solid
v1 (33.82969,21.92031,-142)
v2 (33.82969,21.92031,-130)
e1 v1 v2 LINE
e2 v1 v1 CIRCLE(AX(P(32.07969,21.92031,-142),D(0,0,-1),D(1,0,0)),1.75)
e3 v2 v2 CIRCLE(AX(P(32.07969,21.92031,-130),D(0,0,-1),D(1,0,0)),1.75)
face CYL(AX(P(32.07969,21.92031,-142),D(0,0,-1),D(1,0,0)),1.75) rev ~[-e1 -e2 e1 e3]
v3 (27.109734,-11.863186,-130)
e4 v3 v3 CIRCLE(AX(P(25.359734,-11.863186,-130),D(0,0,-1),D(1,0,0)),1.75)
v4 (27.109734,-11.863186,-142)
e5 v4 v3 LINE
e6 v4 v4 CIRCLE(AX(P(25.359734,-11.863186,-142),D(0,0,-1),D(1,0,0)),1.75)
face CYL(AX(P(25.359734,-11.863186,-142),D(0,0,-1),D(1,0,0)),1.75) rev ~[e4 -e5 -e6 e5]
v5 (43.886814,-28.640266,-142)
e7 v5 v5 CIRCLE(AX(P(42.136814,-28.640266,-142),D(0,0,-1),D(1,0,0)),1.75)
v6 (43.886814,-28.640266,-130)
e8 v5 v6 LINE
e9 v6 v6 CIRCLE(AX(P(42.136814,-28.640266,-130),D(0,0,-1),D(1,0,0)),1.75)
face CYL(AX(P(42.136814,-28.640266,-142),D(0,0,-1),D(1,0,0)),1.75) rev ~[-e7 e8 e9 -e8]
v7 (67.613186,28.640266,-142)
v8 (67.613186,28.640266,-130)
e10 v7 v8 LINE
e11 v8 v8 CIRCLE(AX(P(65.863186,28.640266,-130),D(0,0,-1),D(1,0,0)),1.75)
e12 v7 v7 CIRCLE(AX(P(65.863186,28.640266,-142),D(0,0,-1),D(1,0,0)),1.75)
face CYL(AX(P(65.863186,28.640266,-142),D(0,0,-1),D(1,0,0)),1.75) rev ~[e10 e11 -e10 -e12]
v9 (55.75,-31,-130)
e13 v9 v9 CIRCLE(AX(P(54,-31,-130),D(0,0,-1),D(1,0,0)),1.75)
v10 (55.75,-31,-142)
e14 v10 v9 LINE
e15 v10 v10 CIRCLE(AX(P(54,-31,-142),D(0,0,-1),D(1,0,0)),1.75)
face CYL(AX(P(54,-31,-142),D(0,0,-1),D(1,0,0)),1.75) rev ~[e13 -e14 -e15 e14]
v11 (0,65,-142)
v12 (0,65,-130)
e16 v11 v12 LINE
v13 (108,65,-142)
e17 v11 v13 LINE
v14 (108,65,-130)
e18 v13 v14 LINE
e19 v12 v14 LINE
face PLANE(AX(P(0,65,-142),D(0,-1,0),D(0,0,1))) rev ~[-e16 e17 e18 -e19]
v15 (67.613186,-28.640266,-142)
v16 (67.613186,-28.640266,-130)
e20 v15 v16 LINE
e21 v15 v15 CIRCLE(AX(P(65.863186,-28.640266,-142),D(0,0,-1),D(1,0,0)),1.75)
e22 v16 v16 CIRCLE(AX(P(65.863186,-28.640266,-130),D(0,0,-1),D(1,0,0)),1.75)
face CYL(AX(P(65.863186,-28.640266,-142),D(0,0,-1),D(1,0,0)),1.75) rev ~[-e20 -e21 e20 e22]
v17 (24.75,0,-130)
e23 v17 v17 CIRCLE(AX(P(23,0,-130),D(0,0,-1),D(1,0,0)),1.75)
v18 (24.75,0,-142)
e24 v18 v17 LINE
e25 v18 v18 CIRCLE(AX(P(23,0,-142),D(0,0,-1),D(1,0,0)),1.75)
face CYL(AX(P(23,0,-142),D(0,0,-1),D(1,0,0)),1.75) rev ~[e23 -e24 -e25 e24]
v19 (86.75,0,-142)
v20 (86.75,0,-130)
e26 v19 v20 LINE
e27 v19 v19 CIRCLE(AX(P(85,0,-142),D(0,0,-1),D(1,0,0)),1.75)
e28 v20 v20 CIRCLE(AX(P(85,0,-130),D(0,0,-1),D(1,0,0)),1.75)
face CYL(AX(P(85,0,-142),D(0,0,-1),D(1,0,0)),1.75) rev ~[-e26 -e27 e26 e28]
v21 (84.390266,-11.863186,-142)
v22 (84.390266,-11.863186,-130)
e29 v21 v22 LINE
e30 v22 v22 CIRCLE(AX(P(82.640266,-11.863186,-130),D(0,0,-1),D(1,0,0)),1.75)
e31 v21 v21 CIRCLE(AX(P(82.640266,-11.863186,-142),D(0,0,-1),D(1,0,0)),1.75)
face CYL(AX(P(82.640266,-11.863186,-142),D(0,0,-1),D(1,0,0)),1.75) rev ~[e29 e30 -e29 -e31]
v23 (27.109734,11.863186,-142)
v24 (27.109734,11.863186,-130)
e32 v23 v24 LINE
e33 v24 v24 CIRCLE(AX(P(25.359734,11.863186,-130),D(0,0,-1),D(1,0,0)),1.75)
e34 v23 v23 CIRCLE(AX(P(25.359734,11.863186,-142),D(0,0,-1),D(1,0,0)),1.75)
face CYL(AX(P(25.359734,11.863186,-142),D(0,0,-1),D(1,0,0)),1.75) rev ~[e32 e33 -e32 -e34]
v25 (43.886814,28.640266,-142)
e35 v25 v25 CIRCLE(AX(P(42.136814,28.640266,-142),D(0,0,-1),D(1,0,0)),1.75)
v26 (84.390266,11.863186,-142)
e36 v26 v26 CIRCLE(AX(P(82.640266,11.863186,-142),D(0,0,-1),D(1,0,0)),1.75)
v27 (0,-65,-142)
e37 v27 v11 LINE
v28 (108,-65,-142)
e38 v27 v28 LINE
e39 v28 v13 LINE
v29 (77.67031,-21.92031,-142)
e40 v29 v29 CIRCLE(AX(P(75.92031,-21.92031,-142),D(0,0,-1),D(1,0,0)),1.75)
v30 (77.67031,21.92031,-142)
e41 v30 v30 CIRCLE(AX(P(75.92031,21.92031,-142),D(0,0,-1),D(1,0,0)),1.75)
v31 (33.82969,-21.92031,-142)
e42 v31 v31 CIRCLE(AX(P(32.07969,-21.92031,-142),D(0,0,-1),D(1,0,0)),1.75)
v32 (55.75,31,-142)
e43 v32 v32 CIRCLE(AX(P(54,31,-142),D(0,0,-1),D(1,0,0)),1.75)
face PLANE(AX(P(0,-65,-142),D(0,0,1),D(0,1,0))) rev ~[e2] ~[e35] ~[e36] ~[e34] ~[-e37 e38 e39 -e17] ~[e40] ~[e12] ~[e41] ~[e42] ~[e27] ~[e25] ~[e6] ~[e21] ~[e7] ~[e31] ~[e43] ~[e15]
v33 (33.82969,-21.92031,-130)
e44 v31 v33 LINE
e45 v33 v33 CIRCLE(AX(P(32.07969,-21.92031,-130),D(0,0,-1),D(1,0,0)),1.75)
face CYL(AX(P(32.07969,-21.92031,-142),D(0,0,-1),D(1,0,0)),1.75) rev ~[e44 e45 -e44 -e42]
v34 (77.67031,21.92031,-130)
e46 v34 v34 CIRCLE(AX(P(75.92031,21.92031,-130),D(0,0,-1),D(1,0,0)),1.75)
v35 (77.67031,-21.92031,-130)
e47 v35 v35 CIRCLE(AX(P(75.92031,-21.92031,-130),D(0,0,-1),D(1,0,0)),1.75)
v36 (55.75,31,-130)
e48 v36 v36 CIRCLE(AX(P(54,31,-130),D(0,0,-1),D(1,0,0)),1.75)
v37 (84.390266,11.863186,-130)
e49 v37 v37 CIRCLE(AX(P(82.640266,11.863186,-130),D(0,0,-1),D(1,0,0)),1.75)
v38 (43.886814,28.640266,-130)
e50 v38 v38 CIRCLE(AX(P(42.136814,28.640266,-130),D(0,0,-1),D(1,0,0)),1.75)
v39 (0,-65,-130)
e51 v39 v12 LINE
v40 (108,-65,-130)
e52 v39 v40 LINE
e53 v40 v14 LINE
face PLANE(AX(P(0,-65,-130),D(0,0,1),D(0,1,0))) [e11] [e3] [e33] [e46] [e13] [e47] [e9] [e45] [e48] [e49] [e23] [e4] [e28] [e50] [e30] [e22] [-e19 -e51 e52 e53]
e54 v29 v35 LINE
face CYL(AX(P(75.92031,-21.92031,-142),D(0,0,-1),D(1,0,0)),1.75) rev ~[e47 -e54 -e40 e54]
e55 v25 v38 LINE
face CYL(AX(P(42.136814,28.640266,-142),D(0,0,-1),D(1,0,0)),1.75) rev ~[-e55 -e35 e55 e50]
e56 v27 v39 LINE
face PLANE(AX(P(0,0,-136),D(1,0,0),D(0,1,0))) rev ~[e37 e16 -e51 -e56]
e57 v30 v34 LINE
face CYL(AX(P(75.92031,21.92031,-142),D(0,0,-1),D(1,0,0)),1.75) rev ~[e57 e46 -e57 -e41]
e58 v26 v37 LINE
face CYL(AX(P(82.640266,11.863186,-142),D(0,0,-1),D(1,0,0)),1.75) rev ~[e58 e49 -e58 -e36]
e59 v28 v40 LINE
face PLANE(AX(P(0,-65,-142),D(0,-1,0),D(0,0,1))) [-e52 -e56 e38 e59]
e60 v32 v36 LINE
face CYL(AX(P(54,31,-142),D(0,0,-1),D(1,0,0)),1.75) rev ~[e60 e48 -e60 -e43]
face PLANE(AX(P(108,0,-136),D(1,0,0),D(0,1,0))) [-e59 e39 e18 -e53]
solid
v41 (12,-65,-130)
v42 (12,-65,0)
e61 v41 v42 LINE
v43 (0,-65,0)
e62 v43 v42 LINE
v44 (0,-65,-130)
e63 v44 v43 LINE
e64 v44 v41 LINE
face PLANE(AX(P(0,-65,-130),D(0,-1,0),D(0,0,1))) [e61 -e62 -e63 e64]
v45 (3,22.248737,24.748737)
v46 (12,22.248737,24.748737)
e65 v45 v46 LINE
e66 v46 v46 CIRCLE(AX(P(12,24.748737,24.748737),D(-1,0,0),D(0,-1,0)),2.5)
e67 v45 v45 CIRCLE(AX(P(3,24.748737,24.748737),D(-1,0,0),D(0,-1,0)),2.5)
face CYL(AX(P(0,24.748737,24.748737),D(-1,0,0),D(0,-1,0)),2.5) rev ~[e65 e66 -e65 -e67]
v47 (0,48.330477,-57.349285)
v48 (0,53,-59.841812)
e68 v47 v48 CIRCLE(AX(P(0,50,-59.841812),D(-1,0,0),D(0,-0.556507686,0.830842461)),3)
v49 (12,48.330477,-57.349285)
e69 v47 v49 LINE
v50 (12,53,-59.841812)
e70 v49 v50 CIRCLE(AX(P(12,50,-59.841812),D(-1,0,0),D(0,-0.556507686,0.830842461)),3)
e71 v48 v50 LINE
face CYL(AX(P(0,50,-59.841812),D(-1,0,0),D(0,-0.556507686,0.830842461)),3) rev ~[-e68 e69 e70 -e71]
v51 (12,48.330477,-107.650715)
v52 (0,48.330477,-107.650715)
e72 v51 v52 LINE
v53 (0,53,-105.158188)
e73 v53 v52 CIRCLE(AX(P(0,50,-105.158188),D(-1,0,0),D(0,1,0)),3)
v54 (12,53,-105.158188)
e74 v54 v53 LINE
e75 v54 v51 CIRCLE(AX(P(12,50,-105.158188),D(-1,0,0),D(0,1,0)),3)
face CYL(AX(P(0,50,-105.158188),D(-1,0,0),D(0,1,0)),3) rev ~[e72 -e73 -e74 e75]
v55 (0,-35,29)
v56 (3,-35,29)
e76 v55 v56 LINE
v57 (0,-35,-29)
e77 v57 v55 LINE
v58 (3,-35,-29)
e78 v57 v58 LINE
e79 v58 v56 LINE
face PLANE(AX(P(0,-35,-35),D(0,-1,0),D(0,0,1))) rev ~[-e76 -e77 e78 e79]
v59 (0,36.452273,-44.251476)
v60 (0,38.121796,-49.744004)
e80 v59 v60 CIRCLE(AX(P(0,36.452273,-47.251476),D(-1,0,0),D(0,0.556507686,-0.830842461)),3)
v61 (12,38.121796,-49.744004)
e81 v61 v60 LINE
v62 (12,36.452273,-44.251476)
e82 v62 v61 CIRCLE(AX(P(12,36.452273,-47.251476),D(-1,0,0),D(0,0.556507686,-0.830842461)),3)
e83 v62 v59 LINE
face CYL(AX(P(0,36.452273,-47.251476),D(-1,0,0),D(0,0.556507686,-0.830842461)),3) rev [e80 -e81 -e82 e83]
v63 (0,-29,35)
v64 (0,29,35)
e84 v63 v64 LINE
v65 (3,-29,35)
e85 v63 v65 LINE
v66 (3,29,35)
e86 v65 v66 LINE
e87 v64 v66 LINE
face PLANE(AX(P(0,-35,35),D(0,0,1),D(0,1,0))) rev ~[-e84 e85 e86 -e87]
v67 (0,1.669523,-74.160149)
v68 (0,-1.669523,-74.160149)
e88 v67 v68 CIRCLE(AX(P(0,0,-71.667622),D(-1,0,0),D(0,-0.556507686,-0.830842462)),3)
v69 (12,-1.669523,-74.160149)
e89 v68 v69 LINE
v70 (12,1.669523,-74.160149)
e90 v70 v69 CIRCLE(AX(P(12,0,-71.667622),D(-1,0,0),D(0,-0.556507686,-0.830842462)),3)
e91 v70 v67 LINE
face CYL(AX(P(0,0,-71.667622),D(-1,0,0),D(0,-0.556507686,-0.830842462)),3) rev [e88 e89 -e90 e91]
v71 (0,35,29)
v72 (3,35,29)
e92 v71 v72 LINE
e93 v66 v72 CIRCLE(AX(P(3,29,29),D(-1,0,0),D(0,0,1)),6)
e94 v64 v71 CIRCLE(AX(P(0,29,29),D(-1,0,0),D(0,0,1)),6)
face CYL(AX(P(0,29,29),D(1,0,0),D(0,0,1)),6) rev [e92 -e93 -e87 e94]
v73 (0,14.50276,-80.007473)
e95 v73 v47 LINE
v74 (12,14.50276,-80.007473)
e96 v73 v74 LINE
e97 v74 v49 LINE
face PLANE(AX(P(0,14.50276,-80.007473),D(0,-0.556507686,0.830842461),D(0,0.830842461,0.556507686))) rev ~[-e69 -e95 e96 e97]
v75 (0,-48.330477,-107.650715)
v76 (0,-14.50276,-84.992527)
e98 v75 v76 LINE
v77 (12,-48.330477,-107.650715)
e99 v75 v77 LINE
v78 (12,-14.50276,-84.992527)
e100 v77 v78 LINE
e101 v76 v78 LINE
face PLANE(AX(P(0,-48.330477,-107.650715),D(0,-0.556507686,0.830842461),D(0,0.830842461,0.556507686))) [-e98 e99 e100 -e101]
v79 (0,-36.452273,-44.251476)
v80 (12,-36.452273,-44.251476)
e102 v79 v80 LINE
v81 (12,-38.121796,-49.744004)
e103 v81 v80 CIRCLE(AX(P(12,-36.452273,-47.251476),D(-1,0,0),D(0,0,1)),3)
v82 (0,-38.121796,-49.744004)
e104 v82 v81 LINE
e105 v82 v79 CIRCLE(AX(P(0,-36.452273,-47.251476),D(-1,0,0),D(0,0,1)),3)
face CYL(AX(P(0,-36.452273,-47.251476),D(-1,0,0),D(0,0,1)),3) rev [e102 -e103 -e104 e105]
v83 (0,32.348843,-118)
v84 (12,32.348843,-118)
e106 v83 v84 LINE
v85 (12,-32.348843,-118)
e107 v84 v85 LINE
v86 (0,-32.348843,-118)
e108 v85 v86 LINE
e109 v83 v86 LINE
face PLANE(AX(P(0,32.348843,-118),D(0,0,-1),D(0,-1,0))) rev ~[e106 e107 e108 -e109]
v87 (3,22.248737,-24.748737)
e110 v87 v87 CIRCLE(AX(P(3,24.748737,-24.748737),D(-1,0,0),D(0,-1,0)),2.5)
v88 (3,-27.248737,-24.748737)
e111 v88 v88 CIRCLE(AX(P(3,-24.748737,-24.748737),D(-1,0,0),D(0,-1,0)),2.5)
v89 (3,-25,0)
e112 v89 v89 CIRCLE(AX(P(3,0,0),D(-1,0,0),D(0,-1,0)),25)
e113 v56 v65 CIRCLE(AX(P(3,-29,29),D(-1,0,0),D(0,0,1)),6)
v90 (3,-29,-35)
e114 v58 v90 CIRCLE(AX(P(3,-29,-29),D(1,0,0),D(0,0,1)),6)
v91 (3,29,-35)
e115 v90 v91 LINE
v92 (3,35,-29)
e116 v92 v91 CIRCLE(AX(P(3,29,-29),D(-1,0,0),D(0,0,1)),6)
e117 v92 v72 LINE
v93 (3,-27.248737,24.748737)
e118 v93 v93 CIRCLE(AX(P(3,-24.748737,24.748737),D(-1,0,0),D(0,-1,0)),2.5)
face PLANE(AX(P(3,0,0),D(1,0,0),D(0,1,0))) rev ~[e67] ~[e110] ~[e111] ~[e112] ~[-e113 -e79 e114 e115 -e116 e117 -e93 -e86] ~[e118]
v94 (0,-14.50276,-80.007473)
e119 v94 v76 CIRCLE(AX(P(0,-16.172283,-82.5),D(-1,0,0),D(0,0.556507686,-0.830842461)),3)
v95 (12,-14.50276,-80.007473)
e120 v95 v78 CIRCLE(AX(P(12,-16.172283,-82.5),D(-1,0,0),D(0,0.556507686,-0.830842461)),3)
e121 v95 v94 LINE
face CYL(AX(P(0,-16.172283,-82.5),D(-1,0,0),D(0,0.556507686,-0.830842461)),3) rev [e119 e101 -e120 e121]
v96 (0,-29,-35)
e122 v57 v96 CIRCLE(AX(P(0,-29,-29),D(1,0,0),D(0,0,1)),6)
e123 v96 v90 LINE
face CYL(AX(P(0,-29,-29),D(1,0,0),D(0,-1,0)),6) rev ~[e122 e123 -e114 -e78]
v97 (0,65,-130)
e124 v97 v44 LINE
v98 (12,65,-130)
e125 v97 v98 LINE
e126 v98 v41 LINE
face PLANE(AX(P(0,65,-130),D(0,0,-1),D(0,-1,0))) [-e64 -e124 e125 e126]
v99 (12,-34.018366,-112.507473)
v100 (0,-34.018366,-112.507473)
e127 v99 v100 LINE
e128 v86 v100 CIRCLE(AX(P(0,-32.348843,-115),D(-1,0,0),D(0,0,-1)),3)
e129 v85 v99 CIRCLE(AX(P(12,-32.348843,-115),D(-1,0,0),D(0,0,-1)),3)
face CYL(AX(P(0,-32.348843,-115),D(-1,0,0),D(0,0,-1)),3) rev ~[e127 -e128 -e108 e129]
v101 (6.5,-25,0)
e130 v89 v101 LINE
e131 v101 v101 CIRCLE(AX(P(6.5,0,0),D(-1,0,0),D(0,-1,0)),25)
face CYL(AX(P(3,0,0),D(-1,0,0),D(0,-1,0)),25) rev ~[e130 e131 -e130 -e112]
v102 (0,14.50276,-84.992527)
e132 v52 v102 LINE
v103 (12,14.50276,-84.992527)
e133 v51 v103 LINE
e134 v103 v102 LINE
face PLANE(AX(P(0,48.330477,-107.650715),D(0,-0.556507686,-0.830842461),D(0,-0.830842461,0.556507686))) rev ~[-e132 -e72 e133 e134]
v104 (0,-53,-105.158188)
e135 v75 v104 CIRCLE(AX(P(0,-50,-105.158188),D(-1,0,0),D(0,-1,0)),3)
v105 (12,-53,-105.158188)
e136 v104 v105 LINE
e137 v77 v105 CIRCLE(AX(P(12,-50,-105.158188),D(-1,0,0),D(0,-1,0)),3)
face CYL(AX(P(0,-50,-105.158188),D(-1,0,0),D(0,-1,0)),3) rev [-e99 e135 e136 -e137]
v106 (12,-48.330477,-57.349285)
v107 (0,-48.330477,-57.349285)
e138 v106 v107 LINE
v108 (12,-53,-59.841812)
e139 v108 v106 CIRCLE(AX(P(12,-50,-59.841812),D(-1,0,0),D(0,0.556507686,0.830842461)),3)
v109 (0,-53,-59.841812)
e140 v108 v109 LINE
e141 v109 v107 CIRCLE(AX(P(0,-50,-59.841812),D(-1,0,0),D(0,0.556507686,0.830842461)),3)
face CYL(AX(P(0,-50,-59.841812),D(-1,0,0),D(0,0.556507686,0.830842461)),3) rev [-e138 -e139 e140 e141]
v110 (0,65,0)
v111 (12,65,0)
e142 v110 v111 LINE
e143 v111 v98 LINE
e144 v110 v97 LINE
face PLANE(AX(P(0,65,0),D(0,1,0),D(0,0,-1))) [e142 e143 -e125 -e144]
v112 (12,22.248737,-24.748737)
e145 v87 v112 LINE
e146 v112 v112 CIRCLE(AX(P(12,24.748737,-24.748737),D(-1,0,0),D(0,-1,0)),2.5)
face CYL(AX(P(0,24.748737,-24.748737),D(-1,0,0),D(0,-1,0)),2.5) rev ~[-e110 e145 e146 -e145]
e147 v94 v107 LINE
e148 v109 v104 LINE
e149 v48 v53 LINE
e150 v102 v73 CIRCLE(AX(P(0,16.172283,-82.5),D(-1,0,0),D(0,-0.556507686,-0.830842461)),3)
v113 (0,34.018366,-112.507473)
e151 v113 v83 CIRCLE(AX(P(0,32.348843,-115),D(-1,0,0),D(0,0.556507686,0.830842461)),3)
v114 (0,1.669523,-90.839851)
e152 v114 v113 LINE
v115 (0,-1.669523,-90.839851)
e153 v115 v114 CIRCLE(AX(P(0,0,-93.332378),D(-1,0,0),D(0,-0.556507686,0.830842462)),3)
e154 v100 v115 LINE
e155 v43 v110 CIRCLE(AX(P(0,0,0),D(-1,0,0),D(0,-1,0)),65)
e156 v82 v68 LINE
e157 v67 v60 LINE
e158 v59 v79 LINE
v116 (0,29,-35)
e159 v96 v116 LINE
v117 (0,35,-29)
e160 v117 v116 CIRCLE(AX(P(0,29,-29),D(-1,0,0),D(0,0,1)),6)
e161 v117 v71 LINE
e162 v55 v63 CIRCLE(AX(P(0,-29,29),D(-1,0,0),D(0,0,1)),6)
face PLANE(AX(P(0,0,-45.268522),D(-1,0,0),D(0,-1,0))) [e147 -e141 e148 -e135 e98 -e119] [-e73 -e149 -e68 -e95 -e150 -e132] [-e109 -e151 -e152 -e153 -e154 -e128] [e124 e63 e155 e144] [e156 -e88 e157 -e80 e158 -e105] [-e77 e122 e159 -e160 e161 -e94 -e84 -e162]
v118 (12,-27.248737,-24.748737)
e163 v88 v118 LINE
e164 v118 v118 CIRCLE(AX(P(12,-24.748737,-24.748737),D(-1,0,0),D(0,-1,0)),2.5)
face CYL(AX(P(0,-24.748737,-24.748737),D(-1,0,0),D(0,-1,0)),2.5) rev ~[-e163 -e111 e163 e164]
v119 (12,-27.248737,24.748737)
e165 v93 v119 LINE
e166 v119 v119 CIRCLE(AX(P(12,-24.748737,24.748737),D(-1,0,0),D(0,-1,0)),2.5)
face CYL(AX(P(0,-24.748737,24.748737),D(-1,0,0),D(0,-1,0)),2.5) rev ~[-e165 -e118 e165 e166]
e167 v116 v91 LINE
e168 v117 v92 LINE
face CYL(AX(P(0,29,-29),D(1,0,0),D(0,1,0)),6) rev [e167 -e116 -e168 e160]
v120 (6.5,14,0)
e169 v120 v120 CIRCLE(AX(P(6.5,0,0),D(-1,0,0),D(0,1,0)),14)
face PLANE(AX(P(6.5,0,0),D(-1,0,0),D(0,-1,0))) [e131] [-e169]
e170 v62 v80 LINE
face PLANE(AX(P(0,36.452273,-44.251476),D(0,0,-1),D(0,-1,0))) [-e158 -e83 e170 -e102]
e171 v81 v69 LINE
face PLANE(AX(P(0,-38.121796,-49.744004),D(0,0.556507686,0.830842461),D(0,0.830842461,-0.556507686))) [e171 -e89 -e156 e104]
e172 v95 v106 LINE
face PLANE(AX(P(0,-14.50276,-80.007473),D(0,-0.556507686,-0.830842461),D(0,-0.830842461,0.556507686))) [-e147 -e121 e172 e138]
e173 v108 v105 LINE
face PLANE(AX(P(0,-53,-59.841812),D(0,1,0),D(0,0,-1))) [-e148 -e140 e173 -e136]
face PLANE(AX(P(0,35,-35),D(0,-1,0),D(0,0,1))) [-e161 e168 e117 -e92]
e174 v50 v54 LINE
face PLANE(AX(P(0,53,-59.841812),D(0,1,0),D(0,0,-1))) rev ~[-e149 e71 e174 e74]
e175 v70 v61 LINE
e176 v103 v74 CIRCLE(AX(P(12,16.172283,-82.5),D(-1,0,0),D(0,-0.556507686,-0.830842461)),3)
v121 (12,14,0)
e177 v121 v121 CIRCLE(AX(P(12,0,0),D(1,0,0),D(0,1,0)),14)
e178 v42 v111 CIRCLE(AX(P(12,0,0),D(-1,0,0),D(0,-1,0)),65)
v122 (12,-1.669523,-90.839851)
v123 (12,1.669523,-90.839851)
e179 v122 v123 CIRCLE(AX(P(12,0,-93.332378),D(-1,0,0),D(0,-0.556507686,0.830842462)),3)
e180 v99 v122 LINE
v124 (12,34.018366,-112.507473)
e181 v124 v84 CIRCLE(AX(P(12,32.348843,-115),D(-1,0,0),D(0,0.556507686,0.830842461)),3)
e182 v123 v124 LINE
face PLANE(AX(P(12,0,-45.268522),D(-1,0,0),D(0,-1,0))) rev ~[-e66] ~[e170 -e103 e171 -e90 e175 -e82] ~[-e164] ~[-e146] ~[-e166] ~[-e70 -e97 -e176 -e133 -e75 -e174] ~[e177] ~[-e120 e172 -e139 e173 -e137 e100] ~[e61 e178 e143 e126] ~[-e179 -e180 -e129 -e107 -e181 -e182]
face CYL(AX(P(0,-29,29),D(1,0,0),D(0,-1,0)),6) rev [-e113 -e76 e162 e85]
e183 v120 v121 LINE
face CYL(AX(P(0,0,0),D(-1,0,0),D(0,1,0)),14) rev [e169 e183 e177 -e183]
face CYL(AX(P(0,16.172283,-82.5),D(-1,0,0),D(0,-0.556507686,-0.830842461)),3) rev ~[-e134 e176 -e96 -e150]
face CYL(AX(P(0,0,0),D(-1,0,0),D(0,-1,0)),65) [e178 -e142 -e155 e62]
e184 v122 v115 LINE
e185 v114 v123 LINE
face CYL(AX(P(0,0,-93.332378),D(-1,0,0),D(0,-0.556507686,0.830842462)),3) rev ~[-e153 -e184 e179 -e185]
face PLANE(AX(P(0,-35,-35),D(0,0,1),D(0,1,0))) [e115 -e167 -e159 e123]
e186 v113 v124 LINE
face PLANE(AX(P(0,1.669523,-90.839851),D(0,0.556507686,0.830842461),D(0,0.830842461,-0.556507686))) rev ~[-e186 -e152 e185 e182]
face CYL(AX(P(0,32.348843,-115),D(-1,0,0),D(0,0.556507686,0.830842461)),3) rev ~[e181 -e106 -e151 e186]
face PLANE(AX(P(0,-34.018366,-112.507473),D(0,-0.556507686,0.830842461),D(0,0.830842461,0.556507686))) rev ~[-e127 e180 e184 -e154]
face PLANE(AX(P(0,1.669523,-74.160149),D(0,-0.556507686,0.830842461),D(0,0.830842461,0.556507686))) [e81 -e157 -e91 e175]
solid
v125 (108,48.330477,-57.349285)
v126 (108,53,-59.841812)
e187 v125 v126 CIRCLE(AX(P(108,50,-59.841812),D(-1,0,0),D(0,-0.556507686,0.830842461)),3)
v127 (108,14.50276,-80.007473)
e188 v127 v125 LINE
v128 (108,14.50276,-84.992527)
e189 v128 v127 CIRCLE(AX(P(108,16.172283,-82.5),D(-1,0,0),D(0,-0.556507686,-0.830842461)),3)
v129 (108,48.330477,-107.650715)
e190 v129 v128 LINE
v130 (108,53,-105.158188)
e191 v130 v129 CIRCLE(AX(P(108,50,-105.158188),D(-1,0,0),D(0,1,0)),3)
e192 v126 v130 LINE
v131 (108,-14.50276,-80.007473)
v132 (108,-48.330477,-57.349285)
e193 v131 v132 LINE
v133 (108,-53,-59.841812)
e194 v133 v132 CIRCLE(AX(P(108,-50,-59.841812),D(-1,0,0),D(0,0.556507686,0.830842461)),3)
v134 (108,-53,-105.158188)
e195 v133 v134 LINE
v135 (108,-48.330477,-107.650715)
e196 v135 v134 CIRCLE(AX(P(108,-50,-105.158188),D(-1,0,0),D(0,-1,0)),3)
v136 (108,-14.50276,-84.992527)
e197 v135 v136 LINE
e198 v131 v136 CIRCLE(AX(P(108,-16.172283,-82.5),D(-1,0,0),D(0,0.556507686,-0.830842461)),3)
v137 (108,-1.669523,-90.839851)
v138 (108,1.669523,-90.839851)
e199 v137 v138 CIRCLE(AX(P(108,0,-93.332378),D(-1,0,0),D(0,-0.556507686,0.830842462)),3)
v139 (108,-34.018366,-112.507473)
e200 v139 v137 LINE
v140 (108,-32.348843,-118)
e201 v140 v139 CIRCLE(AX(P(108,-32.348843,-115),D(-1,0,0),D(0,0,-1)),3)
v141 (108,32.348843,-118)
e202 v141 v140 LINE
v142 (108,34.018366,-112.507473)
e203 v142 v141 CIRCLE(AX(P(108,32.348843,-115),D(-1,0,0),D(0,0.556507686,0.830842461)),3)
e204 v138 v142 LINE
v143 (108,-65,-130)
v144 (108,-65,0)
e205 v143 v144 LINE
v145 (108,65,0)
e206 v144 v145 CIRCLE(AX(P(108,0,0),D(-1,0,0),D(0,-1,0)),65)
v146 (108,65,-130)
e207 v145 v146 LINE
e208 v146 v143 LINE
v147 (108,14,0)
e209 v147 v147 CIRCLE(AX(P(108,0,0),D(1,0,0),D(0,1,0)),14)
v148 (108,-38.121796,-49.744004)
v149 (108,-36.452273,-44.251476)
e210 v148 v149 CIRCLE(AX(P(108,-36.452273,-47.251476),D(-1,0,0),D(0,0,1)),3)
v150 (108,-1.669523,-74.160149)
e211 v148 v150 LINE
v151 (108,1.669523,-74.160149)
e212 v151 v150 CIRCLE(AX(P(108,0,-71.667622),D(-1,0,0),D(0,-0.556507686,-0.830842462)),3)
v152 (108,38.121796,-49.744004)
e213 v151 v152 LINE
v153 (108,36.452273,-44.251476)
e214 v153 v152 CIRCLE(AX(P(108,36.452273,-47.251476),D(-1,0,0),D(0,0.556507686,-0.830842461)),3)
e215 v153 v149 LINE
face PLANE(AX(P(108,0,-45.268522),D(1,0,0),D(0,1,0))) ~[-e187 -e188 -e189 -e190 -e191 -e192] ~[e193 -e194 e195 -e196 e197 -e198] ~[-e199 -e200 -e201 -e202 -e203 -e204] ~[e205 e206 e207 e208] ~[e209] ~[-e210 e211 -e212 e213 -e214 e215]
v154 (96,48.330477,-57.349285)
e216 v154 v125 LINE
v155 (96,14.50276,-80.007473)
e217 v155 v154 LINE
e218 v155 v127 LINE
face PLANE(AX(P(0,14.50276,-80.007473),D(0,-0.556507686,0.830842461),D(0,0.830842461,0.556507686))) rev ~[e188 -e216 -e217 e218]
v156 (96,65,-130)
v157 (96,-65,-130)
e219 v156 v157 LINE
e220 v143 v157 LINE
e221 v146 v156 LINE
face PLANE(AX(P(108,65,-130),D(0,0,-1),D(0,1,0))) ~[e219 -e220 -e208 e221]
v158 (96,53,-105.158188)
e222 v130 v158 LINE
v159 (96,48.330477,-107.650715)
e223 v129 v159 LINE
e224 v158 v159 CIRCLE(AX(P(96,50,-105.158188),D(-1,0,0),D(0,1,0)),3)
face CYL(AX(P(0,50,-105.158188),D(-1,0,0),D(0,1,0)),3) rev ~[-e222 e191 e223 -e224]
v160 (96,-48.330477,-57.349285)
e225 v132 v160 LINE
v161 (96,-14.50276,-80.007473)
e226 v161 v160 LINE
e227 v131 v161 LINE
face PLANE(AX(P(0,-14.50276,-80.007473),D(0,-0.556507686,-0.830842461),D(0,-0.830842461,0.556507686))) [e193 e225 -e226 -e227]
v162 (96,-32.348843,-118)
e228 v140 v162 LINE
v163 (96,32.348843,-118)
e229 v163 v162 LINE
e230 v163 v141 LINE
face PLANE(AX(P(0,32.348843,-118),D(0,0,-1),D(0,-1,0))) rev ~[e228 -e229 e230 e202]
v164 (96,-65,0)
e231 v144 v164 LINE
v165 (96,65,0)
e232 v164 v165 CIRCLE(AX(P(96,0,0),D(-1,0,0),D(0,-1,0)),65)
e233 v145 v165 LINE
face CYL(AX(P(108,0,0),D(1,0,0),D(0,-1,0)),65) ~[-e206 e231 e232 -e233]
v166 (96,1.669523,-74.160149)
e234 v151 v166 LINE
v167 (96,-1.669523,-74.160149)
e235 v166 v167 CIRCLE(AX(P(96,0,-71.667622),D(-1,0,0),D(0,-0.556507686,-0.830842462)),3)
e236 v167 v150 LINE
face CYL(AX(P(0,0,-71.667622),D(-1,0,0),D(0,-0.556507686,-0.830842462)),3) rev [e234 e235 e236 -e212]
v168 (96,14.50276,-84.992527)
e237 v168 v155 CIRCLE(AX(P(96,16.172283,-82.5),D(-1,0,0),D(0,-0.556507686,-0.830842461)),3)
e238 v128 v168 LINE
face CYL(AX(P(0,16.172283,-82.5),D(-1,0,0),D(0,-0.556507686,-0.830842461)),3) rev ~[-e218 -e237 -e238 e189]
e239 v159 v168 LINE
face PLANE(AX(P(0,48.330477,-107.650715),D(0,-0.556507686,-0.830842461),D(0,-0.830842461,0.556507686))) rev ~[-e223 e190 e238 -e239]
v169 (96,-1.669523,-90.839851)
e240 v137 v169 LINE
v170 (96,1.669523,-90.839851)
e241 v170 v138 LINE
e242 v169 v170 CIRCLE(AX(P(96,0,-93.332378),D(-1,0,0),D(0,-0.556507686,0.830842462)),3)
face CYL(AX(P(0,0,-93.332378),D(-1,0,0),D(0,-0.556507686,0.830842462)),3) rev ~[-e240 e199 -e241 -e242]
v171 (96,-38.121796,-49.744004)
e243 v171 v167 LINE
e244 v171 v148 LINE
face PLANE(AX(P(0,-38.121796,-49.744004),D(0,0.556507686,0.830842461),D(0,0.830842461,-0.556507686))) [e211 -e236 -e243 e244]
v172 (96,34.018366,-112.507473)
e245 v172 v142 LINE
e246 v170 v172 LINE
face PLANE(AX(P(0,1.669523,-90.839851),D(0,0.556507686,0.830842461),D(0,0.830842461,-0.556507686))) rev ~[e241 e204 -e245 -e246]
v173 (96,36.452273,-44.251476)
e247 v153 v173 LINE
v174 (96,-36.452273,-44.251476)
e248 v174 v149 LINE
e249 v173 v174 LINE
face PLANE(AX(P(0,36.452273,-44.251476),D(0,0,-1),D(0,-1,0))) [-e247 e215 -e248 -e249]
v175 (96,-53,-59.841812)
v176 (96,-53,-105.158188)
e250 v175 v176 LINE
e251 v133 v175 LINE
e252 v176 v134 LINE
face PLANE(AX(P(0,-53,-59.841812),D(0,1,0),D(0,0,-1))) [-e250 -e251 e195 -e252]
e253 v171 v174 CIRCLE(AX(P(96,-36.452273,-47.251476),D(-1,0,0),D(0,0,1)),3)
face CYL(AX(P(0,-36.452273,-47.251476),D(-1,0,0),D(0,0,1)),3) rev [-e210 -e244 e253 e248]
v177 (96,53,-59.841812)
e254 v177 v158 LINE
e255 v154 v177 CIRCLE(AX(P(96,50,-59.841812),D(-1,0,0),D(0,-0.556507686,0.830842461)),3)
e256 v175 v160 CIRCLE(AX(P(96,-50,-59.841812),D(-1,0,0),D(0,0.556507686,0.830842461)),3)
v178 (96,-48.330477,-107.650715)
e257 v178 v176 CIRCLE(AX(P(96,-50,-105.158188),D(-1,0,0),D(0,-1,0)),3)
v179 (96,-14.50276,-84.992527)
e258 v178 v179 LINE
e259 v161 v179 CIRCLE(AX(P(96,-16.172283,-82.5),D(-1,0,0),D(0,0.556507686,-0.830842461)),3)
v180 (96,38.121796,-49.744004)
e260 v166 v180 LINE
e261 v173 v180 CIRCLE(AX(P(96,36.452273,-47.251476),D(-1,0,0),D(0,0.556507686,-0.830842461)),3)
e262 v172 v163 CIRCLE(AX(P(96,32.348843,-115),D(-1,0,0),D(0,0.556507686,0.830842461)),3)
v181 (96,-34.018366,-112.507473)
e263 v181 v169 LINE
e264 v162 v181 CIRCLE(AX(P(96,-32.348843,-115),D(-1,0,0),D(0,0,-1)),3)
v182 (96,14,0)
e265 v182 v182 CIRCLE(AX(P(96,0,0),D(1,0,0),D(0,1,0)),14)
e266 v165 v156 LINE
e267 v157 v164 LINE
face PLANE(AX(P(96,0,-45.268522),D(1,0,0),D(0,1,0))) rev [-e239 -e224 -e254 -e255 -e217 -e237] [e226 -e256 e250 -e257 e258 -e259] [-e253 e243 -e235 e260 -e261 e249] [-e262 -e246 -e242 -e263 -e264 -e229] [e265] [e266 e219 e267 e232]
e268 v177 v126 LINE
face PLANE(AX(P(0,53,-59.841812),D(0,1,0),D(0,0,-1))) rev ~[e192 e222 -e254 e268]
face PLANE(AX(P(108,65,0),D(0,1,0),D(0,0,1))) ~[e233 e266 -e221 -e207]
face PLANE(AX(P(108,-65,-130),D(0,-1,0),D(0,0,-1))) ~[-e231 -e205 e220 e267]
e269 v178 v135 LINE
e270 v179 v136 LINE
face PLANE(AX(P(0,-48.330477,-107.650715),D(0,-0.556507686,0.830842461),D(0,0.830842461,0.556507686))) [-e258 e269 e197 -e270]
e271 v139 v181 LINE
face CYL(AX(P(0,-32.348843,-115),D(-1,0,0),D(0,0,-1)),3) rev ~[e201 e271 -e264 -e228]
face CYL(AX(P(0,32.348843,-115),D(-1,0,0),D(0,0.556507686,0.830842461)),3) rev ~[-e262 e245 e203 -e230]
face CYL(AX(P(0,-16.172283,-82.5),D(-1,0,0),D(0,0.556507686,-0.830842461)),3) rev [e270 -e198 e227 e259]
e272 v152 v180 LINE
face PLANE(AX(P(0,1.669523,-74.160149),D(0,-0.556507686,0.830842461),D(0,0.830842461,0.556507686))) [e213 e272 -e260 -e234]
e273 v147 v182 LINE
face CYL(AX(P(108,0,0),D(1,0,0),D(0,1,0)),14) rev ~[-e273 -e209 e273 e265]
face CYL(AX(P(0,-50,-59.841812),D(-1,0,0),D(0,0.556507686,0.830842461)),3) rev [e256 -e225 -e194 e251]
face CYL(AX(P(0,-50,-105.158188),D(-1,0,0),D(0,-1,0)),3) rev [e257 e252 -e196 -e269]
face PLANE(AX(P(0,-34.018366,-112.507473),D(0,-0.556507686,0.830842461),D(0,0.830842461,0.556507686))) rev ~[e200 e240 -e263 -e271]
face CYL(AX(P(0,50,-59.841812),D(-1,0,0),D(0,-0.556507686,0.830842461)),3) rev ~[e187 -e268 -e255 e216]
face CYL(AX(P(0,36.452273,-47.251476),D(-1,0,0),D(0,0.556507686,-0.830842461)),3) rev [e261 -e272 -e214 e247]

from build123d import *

# Parameters (mm, degrees)
SKETCH1_R               = 14
BOSS_EXTRUDE1_DEPTH     = 12
SKETCH2_W               = 130
SKETCH2_H               = 12
BOSS_EXTRUDE2_DEPTH     = 108
CUT_EXTRUDE1_START      = -108
SKETCH3_W               = 70
SKETCH3_H               = 70
CUT_EXTRUDE1_DEPTH      = 3
SKETCH4_R               = 2.5
CUT_EXTRUDE2_DEPTH      = 25
SKETCH5_R               = 25
CUT_EXTRUDE3_DEPTH      = 3.5
FILLET1_R               = 6
SKETCH7_R               = 1.75
CUT_EXTRUDE5_DEPTH      = 65
CUT_EXTRUDE6_DEPTH      = 1
CUT_EXTRUDE6_DEPTH_BACK = 109


with BuildPart() as part:
    # Sketch1 → Boss-Extrude1 (new body)
    with BuildSketch(Plane.YZ):
        with BuildLine():
            Line((65, 0), (65, -130))
            Line((65, -130), (-65, -130))
            Line((-65, -130), (-65, 0))
            ThreePointArc((-65, 0), (0, 65), (65, 0))
        make_face()
        Circle(SKETCH1_R, mode=Mode.SUBTRACT)
    extrude(amount=BOSS_EXTRUDE1_DEPTH)


with BuildPart() as body_2:
    # Sketch2 → Boss-Extrude2 (new body)
    with BuildSketch(Plane.YZ):
        with Locations((0, -136)):
            Rectangle(SKETCH2_W, SKETCH2_H)
    extrude(amount=BOSS_EXTRUDE2_DEPTH)

    # Sketch7 → Cut-Extrude5 (cut)
    with BuildSketch(Plane(origin=(0, 0, -142), x_dir=(1, 0, 0), z_dir=(0, 0, -1))):
        with Locations((54, 31)):
            Circle(SKETCH7_R)
        with Locations((65.863186403, 28.640265508)):
            Circle(SKETCH7_R)
        with Locations((75.920310217, 21.920310217)):
            Circle(SKETCH7_R)
        with Locations((82.640265508, 11.863186403)):
            Circle(SKETCH7_R)
        with Locations((85, 0)):
            Circle(SKETCH7_R)
        with Locations((82.640265508, -11.863186403)):
            Circle(SKETCH7_R)
        with Locations((75.920310217, -21.920310217)):
            Circle(SKETCH7_R)
        with Locations((65.863186403, -28.640265508)):
            Circle(SKETCH7_R)
        with Locations((54, -31)):
            Circle(SKETCH7_R)
        with Locations((42.136813597, -28.640265508)):
            Circle(SKETCH7_R)
        with Locations((32.079689783, -21.920310217)):
            Circle(SKETCH7_R)
        with Locations((25.359734492, -11.863186403)):
            Circle(SKETCH7_R)
        with Locations((23, 0)):
            Circle(SKETCH7_R)
        with Locations((25.359734492, 11.863186403)):
            Circle(SKETCH7_R)
        with Locations((32.079689783, 21.920310217)):
            Circle(SKETCH7_R)
        with Locations((42.136813597, 28.640265508)):
            Circle(SKETCH7_R)
    extrude(amount=-CUT_EXTRUDE5_DEPTH, mode=Mode.SUBTRACT)


with BuildPart() as body_3:
    # Mirror1: mirrored copy
    add(part.part.mirror(Plane(origin=(54, 0, 0), x_dir=(0, 0, 1), z_dir=(1, 0, 0))))


with BuildPart() as part_1:
    add(part.part)

    # Sketch3 → Cut-Extrude1 (cut)
    with BuildSketch(Plane.YZ.offset(108).offset(CUT_EXTRUDE1_START)):
        Rectangle(SKETCH3_W, SKETCH3_H)
    extrude(amount=CUT_EXTRUDE1_DEPTH, mode=Mode.SUBTRACT)

    # Sketch4 → Cut-Extrude2 (cut)
    with BuildSketch(Plane(origin=(0, 0, 0), x_dir=(0, -1, 0), z_dir=(-1, 0, 0))):
        with Locations((-24.748737342, 24.748737342)):
            Circle(SKETCH4_R)
        with Locations((24.748737342, 24.748737342)):
            Circle(SKETCH4_R)
        with Locations((24.748737342, -24.748737342)):
            Circle(SKETCH4_R)
        with Locations((-24.748737342, -24.748737342)):
            Circle(SKETCH4_R)
    extrude(amount=-CUT_EXTRUDE2_DEPTH, mode=Mode.SUBTRACT)

    # Sketch5 → Cut-Extrude3 (cut)
    with BuildSketch(Plane(origin=(3, 0, 0), x_dir=(0, -1, 0), z_dir=(-1, 0, 0))):
        Circle(SKETCH5_R)
    extrude(amount=-CUT_EXTRUDE3_DEPTH, mode=Mode.SUBTRACT)

    # Fillet1
    fillet1_edges = [part_1.edges().sort_by_distance(p)[0] for p in [
        (1.5, 35, -35),
        (1.5, 35, 35),
        (1.5, -35, 35),
        (1.5, -35, -35),
    ]]
    fillet(fillet1_edges, radius=FILLET1_R)


with BuildPart() as cut_extrude6_tool:
    # Sketch8 → Cut-Extrude6 (new body, two sides)
    with BuildSketch(Plane(origin=(0, 0, 0), x_dir=(0, -1, 0), z_dir=(-1, 0, 0))) as cut_extrude6_sk:
        with BuildLine():
            Line((-36.452273402, -44.251476123), (36.452273402, -44.251476123))
            ThreePointArc((36.452273402, -44.251476123), (39.322602839, -46.379003244), (38.121796461, -49.744003507))
            Line((38.121796461, -49.744003507), (1.669523059, -74.160148899))
            ThreePointArc((1.669523059, -74.160148899), (0, -74.667621515), (-1.669523059, -74.160148899))
            Line((-1.669523059, -74.160148899), (-38.121796461, -49.744003507))
            ThreePointArc((-38.121796461, -49.744003507), (-39.322602839, -46.379003244), (-36.452273402, -44.251476123))
        make_face()
        with BuildLine():
            Line((-53, -59.841812447), (-53, -105.158187553))
            ThreePointArc((-53, -105.158187553), (-51.41269792, -107.804748451), (-48.330476941, -107.650714936))
            Line((-48.330476941, -107.650714936), (-14.502760313, -84.992527383))
            ThreePointArc((-14.502760313, -84.992527383), (-13.172283372, -82.5), (-14.502760313, -80.007472617))
            Line((-14.502760313, -80.007472617), (-48.330476941, -57.349285064))
            ThreePointArc((-48.330476941, -57.349285064), (-51.41269792, -57.195251549), (-53, -59.841812447))
        make_face()
        with BuildLine():
            Line((-32.348843389, -118), (32.348843389, -118))
            ThreePointArc((32.348843389, -118), (35.219172826, -115.872472879), (34.018366448, -112.507472617))
            Line((34.018366448, -112.507472617), (1.669523059, -90.839851101))
            ThreePointArc((1.669523059, -90.839851101), (0, -90.332378485), (-1.669523059, -90.839851101))
            Line((-1.669523059, -90.839851101), (-34.018366448, -112.507472617))
            ThreePointArc((-34.018366448, -112.507472617), (-35.219172826, -115.872472879), (-32.348843389, -118))
        make_face()
        with BuildLine():
            Line((53, -59.841812447), (53, -105.158187553))
            ThreePointArc((53, -105.158187553), (51.41269792, -107.804748451), (48.330476941, -107.650714936))
            Line((48.330476941, -107.650714936), (14.502760313, -84.992527383))
            ThreePointArc((14.502760313, -84.992527383), (13.172283372, -82.5), (14.502760313, -80.007472617))
            Line((14.502760313, -80.007472617), (48.330476941, -57.349285064))
            ThreePointArc((48.330476941, -57.349285064), (51.41269792, -57.195251549), (53, -59.841812447))
        make_face()
    extrude(amount=CUT_EXTRUDE6_DEPTH)
    extrude(cut_extrude6_sk.sketch, amount=-CUT_EXTRUDE6_DEPTH_BACK)


with BuildPart() as part_2:
    add(part_1.part)

    # Cut-Extrude6: cut by cut_extrude6_tool
    add(cut_extrude6_tool.part, mode=Mode.SUBTRACT)


with BuildPart() as body_3_1:
    add(body_3.part)

    # Cut-Extrude6: cut by cut_extrude6_tool
    add(cut_extrude6_tool.part, mode=Mode.SUBTRACT)


solid = Compound([body_2.part, part_2.part, body_3_1.part])
